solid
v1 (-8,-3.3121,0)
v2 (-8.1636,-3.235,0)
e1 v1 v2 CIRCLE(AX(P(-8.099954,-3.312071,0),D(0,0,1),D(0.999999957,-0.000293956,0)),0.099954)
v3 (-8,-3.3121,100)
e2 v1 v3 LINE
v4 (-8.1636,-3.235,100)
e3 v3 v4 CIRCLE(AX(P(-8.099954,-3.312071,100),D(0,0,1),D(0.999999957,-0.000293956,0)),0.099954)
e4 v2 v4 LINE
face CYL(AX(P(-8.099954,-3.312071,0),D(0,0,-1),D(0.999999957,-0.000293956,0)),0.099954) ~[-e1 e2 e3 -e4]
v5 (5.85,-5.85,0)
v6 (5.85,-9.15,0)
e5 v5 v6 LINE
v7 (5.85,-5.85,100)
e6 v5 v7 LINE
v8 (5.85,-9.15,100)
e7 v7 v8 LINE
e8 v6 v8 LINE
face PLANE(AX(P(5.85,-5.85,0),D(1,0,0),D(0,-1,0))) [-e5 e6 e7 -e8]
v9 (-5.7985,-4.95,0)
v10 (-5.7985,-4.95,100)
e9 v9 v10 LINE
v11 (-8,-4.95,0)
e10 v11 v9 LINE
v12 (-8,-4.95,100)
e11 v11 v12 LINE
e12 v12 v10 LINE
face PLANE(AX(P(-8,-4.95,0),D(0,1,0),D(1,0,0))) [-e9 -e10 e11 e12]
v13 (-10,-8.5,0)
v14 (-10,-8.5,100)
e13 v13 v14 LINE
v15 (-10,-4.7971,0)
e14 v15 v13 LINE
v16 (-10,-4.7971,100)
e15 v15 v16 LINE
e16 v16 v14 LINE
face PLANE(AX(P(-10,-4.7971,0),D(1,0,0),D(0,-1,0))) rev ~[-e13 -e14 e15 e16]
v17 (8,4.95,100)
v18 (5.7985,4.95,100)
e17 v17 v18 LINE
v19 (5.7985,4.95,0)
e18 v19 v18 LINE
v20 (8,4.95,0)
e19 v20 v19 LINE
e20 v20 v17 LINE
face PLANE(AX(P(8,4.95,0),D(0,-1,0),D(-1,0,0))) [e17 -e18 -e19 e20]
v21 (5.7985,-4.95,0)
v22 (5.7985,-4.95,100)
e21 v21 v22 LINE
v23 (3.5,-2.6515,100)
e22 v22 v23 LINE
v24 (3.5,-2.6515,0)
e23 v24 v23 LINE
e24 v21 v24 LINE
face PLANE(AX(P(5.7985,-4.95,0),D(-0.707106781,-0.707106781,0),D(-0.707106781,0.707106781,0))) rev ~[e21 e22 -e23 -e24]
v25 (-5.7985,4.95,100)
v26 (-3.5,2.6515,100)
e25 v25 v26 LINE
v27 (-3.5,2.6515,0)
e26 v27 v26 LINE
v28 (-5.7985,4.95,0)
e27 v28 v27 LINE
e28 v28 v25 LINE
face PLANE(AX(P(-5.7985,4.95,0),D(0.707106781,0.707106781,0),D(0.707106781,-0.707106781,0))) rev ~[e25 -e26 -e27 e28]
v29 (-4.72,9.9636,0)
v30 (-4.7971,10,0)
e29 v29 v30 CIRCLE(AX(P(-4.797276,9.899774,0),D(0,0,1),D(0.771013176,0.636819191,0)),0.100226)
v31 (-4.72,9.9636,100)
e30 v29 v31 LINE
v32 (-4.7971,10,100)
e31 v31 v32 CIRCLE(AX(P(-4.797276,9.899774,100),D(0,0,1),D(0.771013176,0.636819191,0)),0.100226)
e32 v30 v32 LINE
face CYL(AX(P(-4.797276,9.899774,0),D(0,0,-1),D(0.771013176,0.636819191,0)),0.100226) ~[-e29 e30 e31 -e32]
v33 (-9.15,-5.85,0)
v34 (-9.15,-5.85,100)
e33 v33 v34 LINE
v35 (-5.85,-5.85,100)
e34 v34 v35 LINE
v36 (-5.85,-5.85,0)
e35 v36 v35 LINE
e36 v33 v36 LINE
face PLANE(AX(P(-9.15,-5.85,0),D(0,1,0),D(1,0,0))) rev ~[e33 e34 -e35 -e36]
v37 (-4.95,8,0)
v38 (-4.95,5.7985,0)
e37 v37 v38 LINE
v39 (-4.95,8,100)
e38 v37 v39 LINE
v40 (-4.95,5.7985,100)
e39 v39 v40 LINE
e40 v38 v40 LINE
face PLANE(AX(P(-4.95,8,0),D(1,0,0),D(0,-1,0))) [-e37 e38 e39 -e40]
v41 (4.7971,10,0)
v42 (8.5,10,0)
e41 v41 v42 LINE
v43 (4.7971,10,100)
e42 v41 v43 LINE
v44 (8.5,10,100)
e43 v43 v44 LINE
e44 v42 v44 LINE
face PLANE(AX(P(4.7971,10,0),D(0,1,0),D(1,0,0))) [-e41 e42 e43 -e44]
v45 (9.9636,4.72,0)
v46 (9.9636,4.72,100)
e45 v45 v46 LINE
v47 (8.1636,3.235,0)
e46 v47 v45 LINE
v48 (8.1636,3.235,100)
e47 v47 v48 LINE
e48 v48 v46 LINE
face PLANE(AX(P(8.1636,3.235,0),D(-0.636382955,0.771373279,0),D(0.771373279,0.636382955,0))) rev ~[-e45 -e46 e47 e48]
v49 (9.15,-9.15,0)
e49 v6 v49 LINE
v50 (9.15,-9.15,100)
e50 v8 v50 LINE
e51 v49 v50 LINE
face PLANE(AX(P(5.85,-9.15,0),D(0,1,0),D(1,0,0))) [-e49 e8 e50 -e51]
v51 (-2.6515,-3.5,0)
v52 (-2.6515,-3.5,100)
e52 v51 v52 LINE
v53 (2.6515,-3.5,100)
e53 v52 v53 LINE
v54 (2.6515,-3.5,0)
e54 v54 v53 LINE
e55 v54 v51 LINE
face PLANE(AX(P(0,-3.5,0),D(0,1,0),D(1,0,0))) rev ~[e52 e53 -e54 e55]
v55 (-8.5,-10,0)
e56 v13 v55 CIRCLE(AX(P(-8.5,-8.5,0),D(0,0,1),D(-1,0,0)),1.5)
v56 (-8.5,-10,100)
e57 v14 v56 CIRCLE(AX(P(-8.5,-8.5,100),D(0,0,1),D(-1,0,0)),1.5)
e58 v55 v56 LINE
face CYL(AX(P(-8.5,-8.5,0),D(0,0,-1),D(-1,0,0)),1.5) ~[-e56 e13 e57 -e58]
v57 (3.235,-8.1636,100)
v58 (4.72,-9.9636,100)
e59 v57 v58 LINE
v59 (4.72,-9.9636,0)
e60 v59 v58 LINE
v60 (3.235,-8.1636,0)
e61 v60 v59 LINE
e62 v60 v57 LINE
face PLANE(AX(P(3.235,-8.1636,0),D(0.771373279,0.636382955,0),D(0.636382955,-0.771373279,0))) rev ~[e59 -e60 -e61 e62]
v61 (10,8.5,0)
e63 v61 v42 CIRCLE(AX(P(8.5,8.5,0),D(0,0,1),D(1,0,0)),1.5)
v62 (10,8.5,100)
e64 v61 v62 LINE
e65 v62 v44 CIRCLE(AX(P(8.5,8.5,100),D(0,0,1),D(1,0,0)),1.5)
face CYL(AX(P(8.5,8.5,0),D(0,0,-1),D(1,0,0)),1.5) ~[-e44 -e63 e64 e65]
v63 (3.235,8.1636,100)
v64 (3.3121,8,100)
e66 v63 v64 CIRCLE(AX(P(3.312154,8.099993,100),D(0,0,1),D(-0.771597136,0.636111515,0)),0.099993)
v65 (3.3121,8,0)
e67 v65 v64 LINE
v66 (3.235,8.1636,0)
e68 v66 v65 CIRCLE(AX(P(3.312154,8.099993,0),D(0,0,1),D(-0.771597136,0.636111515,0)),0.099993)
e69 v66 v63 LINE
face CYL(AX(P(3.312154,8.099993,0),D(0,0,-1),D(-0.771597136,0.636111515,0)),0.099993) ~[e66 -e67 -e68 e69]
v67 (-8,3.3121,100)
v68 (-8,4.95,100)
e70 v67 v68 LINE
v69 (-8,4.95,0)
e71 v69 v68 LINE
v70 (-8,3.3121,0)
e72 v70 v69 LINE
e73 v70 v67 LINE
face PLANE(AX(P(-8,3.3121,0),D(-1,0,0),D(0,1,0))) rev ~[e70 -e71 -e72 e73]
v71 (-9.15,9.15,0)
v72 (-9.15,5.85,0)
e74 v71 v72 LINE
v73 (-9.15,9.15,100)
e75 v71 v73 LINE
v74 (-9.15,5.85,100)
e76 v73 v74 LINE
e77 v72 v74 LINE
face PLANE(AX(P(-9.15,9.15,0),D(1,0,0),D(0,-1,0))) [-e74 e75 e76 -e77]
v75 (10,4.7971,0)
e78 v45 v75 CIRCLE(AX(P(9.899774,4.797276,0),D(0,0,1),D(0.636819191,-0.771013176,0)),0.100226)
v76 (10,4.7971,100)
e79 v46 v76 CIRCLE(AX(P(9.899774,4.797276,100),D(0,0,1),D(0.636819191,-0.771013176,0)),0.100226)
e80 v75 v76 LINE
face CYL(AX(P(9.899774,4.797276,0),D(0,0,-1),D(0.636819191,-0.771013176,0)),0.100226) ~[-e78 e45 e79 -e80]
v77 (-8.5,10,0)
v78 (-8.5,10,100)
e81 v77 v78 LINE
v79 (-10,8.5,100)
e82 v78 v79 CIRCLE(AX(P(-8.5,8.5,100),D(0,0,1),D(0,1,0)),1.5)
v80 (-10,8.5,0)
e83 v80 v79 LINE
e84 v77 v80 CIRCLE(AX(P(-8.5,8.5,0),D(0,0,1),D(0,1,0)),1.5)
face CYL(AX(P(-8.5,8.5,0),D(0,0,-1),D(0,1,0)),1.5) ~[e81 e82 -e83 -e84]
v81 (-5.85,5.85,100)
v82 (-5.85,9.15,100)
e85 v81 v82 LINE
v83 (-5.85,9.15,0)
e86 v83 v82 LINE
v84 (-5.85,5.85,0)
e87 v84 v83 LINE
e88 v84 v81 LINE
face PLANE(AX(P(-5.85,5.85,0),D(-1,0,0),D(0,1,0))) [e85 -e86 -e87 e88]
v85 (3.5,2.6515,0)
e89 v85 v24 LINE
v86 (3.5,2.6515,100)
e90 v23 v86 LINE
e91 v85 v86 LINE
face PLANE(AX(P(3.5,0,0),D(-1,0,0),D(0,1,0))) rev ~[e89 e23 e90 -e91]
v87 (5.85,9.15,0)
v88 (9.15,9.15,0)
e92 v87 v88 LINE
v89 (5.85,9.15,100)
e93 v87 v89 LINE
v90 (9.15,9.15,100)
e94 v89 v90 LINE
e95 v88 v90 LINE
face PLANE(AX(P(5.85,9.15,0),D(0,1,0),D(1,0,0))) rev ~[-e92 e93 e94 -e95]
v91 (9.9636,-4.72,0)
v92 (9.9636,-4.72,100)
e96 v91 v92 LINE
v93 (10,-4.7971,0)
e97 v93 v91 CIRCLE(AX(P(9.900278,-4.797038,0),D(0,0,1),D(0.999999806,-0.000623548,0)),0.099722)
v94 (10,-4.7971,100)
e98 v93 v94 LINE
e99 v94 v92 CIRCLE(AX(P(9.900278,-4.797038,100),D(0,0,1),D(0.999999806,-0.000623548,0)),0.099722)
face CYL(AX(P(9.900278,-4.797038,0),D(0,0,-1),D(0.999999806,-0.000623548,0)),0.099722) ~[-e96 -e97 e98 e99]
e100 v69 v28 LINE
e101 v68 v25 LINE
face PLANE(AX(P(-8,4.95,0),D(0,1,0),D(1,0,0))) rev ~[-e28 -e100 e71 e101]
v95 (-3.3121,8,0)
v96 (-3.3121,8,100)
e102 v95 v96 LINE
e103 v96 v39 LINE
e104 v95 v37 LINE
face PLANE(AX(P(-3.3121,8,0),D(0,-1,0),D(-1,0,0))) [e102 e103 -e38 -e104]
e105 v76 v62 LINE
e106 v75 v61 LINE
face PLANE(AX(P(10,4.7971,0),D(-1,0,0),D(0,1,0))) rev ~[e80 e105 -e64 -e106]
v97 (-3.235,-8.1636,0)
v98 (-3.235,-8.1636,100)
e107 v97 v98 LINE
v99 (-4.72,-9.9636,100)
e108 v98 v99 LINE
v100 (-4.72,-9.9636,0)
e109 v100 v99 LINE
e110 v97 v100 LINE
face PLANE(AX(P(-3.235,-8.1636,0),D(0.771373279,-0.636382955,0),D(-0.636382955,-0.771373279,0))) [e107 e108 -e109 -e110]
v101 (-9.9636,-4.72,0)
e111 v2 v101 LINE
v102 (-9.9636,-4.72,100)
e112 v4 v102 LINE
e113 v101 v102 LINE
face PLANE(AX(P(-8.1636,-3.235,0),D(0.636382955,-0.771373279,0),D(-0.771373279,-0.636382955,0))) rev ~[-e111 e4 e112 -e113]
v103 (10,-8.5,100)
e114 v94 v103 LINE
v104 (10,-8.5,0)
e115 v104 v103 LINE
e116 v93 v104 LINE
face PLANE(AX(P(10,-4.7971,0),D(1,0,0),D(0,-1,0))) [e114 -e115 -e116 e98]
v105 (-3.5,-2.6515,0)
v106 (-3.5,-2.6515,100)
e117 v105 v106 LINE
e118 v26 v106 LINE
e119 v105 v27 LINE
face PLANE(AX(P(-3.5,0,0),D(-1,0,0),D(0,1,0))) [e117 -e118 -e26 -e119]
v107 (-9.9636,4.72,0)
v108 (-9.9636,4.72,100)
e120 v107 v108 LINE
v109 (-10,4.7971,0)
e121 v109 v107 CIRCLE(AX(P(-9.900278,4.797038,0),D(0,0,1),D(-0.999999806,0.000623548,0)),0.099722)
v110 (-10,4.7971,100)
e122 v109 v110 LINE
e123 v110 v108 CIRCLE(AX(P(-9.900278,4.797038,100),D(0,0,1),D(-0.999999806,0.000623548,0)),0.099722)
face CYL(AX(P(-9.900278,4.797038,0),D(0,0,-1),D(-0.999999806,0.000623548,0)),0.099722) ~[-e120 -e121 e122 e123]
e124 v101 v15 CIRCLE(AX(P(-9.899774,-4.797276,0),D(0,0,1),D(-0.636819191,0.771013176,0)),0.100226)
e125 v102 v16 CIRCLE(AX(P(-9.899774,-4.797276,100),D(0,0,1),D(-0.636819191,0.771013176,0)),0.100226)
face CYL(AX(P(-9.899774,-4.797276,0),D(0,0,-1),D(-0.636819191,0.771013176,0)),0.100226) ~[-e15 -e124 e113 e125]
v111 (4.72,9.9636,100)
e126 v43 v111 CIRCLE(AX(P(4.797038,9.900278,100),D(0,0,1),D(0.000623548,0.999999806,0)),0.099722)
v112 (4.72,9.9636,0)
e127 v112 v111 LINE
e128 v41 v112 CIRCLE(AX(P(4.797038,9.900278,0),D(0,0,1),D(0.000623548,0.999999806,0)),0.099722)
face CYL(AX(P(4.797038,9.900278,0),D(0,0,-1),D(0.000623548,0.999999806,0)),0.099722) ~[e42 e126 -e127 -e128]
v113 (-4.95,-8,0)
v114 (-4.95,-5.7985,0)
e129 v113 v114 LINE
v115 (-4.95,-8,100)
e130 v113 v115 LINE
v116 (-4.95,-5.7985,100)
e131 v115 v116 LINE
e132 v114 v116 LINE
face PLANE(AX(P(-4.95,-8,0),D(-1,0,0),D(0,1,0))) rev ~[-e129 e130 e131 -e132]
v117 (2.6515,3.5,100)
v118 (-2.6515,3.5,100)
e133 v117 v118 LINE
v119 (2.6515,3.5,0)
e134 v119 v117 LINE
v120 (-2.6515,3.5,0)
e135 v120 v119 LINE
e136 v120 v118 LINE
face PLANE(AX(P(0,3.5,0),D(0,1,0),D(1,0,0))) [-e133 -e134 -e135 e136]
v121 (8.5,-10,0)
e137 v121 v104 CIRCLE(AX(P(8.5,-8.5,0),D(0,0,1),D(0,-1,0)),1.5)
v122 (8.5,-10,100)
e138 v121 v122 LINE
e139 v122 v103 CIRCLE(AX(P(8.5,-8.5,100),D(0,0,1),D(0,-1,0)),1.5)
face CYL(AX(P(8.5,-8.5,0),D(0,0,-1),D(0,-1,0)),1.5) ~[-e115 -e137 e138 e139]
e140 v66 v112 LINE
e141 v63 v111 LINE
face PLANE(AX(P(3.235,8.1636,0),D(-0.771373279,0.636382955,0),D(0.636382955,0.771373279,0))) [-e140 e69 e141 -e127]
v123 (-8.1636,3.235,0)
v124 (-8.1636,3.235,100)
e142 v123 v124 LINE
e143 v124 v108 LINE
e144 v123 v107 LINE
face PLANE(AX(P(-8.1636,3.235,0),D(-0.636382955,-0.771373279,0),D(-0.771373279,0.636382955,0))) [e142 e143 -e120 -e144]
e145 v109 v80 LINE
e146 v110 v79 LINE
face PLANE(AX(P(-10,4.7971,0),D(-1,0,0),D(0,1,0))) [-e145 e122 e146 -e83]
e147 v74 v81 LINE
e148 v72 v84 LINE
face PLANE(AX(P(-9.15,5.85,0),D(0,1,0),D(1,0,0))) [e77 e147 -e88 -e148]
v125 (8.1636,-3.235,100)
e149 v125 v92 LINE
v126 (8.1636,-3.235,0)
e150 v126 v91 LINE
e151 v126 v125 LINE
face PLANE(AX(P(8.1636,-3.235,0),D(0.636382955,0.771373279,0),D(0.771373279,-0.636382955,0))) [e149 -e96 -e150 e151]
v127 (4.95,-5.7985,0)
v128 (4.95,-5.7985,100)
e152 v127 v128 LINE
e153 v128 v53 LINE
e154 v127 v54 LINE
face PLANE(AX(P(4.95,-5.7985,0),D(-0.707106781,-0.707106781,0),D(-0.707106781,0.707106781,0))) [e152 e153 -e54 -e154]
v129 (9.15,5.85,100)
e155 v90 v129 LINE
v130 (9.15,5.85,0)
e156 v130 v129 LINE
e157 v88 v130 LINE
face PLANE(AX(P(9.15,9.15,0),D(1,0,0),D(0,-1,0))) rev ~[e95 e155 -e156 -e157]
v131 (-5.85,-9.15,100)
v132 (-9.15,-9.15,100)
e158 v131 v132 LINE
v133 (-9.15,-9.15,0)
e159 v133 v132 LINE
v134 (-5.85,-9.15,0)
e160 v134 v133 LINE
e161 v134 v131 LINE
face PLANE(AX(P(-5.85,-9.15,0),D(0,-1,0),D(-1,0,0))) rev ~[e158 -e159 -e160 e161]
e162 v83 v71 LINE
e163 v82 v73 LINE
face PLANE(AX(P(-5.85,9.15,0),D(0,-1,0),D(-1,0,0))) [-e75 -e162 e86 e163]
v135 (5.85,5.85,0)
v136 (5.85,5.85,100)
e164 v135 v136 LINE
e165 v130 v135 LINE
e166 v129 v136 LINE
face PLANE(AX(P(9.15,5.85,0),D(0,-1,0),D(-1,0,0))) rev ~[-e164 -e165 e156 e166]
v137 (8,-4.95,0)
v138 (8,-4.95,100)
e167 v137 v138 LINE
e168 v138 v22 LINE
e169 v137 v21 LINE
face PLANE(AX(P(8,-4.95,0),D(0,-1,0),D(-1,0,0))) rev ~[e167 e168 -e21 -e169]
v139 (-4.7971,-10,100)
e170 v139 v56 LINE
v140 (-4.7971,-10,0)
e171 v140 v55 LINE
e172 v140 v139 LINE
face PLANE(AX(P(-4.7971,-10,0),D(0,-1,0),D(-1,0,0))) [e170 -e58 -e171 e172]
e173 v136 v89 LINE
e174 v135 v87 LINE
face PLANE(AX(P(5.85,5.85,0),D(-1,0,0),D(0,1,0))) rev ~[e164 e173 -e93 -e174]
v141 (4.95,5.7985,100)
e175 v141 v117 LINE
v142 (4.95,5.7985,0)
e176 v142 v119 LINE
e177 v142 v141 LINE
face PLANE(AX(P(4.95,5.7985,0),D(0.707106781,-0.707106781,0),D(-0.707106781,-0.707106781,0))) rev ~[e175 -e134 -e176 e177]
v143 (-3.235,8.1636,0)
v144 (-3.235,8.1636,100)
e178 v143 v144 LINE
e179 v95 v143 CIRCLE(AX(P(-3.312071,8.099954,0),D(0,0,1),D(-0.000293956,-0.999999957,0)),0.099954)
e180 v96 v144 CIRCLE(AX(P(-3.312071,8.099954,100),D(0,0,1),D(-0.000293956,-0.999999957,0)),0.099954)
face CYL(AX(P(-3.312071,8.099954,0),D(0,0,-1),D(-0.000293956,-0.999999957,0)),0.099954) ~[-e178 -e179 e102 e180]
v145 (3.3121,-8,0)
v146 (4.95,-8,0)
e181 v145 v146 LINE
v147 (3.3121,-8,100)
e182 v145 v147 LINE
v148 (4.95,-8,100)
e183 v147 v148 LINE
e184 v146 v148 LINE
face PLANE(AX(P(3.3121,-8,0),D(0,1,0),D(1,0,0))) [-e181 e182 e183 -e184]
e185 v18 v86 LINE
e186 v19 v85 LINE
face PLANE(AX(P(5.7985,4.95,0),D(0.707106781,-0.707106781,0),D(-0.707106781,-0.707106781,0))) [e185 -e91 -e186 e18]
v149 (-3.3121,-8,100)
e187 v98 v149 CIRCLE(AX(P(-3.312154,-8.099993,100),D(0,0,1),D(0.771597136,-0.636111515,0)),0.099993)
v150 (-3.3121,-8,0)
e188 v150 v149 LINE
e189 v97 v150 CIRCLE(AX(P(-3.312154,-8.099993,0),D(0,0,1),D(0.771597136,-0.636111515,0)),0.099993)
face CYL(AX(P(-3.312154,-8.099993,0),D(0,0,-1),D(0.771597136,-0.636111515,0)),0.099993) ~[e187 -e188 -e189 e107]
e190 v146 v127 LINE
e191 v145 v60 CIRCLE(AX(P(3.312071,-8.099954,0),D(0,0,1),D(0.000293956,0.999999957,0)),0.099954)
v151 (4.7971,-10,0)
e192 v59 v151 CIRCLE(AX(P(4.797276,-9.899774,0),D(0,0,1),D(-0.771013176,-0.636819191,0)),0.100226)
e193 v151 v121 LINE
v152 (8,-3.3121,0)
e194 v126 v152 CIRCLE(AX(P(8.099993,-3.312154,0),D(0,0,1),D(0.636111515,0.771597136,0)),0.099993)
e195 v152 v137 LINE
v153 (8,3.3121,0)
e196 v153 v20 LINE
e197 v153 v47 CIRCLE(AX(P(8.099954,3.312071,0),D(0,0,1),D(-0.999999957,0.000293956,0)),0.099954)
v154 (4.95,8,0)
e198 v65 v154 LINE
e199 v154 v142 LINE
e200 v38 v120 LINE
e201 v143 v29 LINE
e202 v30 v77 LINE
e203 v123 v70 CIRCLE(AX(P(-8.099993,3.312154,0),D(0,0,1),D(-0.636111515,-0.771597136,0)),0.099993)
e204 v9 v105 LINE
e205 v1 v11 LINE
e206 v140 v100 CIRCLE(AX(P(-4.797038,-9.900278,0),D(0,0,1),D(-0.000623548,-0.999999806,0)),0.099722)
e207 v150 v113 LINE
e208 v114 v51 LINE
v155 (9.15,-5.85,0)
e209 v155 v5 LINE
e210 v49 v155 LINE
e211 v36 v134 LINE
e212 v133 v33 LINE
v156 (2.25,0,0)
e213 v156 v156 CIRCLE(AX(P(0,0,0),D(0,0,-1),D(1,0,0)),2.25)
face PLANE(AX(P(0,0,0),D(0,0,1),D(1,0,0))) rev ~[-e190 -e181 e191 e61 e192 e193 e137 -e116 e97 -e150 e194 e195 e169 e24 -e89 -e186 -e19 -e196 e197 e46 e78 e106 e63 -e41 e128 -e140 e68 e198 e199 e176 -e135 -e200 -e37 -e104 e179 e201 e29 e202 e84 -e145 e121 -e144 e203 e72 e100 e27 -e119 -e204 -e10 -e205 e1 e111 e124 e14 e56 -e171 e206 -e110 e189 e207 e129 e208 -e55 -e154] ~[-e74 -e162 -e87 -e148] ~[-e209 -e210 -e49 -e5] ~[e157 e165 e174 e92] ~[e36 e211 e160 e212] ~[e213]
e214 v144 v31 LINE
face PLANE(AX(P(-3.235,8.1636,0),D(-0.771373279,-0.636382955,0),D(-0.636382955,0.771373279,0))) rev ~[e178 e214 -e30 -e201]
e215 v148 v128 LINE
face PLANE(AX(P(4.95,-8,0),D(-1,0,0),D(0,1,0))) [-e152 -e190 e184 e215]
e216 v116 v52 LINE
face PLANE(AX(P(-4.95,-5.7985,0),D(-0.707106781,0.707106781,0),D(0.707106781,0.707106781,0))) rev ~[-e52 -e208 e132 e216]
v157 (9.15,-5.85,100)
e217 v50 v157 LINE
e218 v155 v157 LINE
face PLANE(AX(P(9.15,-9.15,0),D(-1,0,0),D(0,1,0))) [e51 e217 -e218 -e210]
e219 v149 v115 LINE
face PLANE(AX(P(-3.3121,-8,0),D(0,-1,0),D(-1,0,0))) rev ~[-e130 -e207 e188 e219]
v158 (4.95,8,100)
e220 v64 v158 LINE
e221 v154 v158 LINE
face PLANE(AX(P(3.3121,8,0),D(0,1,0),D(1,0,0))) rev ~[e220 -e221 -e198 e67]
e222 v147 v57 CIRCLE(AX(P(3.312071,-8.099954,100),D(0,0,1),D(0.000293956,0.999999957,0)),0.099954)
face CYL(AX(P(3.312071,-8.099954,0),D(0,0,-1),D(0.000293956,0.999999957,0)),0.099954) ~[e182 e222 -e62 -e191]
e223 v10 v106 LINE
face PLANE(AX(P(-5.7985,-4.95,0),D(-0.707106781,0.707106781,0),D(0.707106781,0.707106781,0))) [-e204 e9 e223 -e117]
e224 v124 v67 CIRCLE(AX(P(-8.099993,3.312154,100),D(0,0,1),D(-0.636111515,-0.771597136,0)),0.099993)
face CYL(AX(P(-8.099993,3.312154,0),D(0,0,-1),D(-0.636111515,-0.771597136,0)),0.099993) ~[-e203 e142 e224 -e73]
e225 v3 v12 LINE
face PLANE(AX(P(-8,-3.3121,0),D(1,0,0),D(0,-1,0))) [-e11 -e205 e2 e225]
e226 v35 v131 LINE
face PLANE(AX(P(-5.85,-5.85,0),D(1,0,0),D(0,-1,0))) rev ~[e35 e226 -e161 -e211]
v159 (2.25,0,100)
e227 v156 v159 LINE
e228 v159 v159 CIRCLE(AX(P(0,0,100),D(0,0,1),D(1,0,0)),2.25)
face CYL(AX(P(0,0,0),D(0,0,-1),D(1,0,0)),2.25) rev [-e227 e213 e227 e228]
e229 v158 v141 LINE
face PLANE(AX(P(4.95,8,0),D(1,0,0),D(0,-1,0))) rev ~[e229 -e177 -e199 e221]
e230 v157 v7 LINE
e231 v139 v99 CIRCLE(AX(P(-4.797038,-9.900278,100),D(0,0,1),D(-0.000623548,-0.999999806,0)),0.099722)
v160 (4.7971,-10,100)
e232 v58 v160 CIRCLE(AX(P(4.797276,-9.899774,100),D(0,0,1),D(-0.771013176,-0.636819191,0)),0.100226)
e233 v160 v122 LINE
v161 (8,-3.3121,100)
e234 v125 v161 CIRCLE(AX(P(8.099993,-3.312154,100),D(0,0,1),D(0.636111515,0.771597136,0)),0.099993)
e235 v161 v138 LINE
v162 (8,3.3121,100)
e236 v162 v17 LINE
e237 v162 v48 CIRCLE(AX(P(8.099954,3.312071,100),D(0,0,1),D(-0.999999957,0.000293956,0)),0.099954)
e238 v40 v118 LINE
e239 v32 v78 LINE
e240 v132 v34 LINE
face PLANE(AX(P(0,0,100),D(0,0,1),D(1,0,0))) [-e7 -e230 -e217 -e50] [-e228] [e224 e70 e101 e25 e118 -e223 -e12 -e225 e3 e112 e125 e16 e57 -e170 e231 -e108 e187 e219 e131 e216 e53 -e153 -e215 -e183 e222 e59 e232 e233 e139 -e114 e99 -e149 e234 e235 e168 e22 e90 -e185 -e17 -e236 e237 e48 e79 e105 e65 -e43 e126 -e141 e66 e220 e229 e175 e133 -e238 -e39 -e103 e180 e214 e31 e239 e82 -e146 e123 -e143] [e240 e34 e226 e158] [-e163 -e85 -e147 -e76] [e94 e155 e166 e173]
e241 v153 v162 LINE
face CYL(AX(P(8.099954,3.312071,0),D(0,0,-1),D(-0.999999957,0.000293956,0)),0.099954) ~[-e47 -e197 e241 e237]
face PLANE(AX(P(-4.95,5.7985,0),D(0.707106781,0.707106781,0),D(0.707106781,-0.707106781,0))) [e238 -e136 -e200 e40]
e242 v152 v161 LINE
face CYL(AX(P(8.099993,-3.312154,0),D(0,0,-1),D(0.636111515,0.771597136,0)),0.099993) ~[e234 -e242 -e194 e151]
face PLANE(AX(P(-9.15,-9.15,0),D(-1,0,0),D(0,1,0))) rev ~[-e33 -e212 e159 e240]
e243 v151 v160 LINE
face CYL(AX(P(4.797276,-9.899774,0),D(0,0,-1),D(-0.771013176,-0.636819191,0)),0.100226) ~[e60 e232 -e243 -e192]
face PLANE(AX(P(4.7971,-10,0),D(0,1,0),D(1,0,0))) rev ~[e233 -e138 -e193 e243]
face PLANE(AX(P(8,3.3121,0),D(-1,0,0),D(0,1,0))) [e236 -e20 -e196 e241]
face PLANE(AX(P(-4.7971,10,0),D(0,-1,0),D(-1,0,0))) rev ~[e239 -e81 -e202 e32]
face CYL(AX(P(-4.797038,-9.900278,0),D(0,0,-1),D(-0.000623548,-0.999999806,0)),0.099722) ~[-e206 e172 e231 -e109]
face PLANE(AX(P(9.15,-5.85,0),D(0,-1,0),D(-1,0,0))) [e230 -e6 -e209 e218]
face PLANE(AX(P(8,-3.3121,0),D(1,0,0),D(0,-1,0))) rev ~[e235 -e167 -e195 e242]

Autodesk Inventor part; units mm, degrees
ref_plane "YZ Plane" through (0, 0, 0) normal (1, 0, 0) x (0, 1, 0)
ref_plane "Начальная плоскость" through (0, 0, 0) normal (0, 0, 1) x (1, 0, 0)
ref_plane "Конечная плоскость" through (0, 0, 100) normal (0, 0, 1) x (1, 0, 0)
sketch "Эскиз1" plane through (0, 0, 0) normal (0, 0, 1) x (1, 0, 0)
  line L0 (-14.4349, 0) -> (14.4349, 0) projected
  line L1 (0, -14) -> (0, 14) projected
  line L2 (0, 0) -> (7.5, 7.5) construction
  circle A0 centre (7.5, 7.5) radius 1.65 construction
  line L3 (5.85, 9.15) -> (9.15, 9.15)
  line L4 (9.15, 9.15) -> (9.15, 5.85)
  line L5 (9.15, 5.85) -> (5.85, 5.85)
  line L6 (5.85, 5.85) -> (5.85, 9.15)
  line L7 (3.235, 8.1636) -> (4.72, 9.9636)
  line L8 (4.7971, 10) -> (8.5, 10)
  line L9 (3.3121, 8) -> (4.95, 8)
  line L10 (4.95, 8) -> (4.95, 5.7985)
  line L11 (4.95, 5.7985) -> (2.6515, 3.5)
  line L12 (0, 3.5) -> (2.6515, 3.5)
  circle A1 centre (0, 0) radius 2.25
  line L13 (8.1636, 3.235) -> (9.9636, 4.72)
  line L14 (10, 4.7971) -> (10, 8.5)
  line L15 (8, 3.3121) -> (8, 4.95)
  line L16 (8, 4.95) -> (5.7985, 4.95)
  line L17 (5.7985, 4.95) -> (3.5, 2.6515)
  line L18 (3.5, 0) -> (3.5, 2.6515)
  arc A2 (10, 8.5) -> (8.5, 10) centre (8.5, 8.5) ccw
  line L19 (0, 0) -> (-7.5, 7.5) construction
  circle A3 centre (-7.5, 7.5) radius 1.65 construction
  line L20 (-5.85, 9.15) -> (-9.15, 9.15)
  line L21 (-9.15, 9.15) -> (-9.15, 5.85)
  line L22 (-9.15, 5.85) -> (-5.85, 5.85)
  line L23 (-5.85, 5.85) -> (-5.85, 9.15)
  line L24 (-3.235, 8.1636) -> (-4.72, 9.9636)
  line L25 (-4.7971, 10) -> (-8.5, 10)
  line L26 (-3.3121, 8) -> (-4.95, 8)
  line L27 (-4.95, 8) -> (-4.95, 5.7985)
  line L28 (-4.95, 5.7985) -> (-2.6515, 3.5)
  line L29 (0, 3.5) -> (-2.6515, 3.5)
  line L30 (-3.5, 0) -> (-3.5, 2.6515)
  line L31 (-5.7985, 4.95) -> (-3.5, 2.6515)
  line L32 (-8, 4.95) -> (-5.7985, 4.95)
  line L33 (-8, 3.3121) -> (-8, 4.95)
  line L34 (-8.1636, 3.235) -> (-9.9636, 4.72)
  line L35 (-10, 4.7971) -> (-10, 8.5)
  arc A4 (-8.5, 10) -> (-10, 8.5) centre (-8.5, 8.5) ccw
  line L36 (0, 14) -> (0, -14)
  line L37 (0, 0) -> (7.5, -7.5) construction
  circle A5 centre (7.5, -7.5) radius 1.65 construction
  line L38 (5.85, -9.15) -> (9.15, -9.15)
  line L39 (9.15, -9.15) -> (9.15, -5.85)
  line L40 (9.15, -5.85) -> (5.85, -5.85)
  line L41 (5.85, -5.85) -> (5.85, -9.15)
  line L42 (3.235, -8.1636) -> (4.72, -9.9636)
  line L43 (4.7971, -10) -> (8.5, -10)
  line L44 (3.3121, -8) -> (4.95, -8)
  line L45 (4.95, -8) -> (4.95, -5.7985)
  line L46 (4.95, -5.7985) -> (2.6515, -3.5)
  line L47 (0, -3.5) -> (2.6515, -3.5)
  line L48 (3.5, 0) -> (3.5, -2.6515)
  line L49 (5.7985, -4.95) -> (3.5, -2.6515)
  line L50 (8, -4.95) -> (5.7985, -4.95)
  line L51 (8, -3.3121) -> (8, -4.95)
  line L52 (8.1636, -3.235) -> (9.9636, -4.72)
  line L53 (10, -4.7971) -> (10, -8.5)
  arc A6 (8.5, -10) -> (10, -8.5) centre (8.5, -8.5) ccw
  line L54 (0, 0) -> (-7.5, -7.5) construction
  line L55 (-4.95, -8) -> (-4.95, -5.7985)
  line L56 (-3.3121, -8) -> (-4.95, -8)
  line L57 (-5.7985, -4.95) -> (-3.5, -2.6515)
  line L58 (-4.95, -5.7985) -> (-2.6515, -3.5)
  line L59 (-3.5, 0) -> (-3.5, -2.6515)
  line L60 (0, -3.5) -> (-2.6515, -3.5)
  circle A7 centre (-7.5, -7.5) radius 1.65 construction
  line L61 (-5.85, -5.85) -> (-5.85, -9.15)
  line L62 (-5.85, -9.15) -> (-9.15, -9.15)
  line L63 (-9.15, -9.15) -> (-9.15, -5.85)
  line L64 (-9.15, -5.85) -> (-5.85, -5.85)
  line L65 (-3.235, -8.1636) -> (-4.72, -9.9636)
  line L66 (-8, -4.95) -> (-5.7985, -4.95)
  line L67 (-8, -3.3121) -> (-8, -4.95)
  line L68 (-8.1636, -3.235) -> (-9.9636, -4.72)
  line L69 (-4.7971, -10) -> (-8.5, -10)
  line L70 (-10, -4.7971) -> (-10, -8.5)
  arc A8 (-10, -8.5) -> (-8.5, -10) centre (-8.5, -8.5) ccw
  arc A9 (3.235, 8.1636) -> (3.3121, 8) centre (3.3121, 8.1) ccw
  arc A10 (4.7971, 10) -> (4.72, 9.9636) centre (4.7971, 9.9) ccw
  arc A11 (8, 3.3121) -> (8.1636, 3.235) centre (8.1, 3.3121) ccw
  arc A12 (9.9636, 4.72) -> (10, 4.7971) centre (9.9, 4.7971) ccw
  arc A13 (-3.3121, 8) -> (-3.235, 8.1636) centre (-3.3121, 8.1) ccw
  arc A14 (-4.72, 9.9636) -> (-4.7971, 10) centre (-4.7971, 9.9) ccw
  arc A15 (-8.1636, 3.235) -> (-8, 3.3121) centre (-8.1, 3.3121) ccw
  arc A16 (-10, 4.7971) -> (-9.9636, 4.72) centre (-9.9, 4.7971) ccw
  arc A17 (-8, -3.3121) -> (-8.1636, -3.235) centre (-8.1, -3.3121) ccw
  arc A18 (-9.9636, -4.72) -> (-10, -4.7971) centre (-9.9, -4.7971) ccw
  arc A19 (-3.235, -8.1636) -> (-3.3121, -8) centre (-3.3121, -8.1) ccw
  arc A20 (-4.7971, -10) -> (-4.72, -9.9636) centre (-4.7971, -9.9) ccw
  arc A21 (4.72, -9.9636) -> (4.7971, -10) centre (4.7971, -9.9) ccw
  arc A22 (3.3121, -8) -> (3.235, -8.1636) centre (3.3121, -8.1) ccw
  arc A23 (8.1636, -3.235) -> (8, -3.3121) centre (8.1, -3.3121) ccw
  arc A24 (10, -4.7971) -> (9.9636, -4.72) centre (9.9, -4.7971) ccw
  point P0 (3.1, 8)
  point P1 (4.75, 10)
  point P2 (7.5, 9.15)
  point P3 (8, 3.1)
  point P4 (10, 4.75)
  point P5 (7.5, 5.85)
  point P6 (9.15, 7.5)
  point P7 (-3.1, 8)
  point P8 (-4.75, 10)
  point P9 (-7.5, 9.15)
  point P10 (-8, 3.1)
  point P11 (-10, 4.75)
  point P12 (-7.5, 5.85)
  point P13 (-9.15, 7.5)
  point P14 (3.1, -8)
  point P15 (4.75, -10)
  point P16 (7.5, -9.15)
  point P17 (8, -3.1)
  point P18 (10, -4.75)
  point P19 (7.5, -5.85)
  point P20 (9.15, -7.5)
  point P21 (-3.1, -8)
  point P22 (-7.5, -5.85)
  point P23 (-7.5, -9.15)
  point P24 (-9.15, -7.5)
  point P25 (-4.75, -10)
  point P26 (-8, -3.1)
  point P27 (-10, -4.75)
  dimension "d0" = 45
  dimension "d1" = 3.3
  dimension "d2" = 1.5
  dimension "d3" = 1.2
  dimension "d4" = 4.5
  dimension "d5" = 6.5
  dimension "d6" = 15
  dimension "d7" = 20
  dimension "d8" = 9.9
  dimension "d9" = 9.5
  dimension "d10" = 6.2
  dimension "d11" = 2
  dimension "d18" = 0.1
  dimension "d19" = 0.1
extrude "Тело" add sketch "Эскиз1" along normal up to surface (100 mm away) from surface at 0 contours A1 L1 L12 L11 L10 L9 A9 L7 A10 L8 A2 L14 A12 L13 A11 L15 L16 L17 L18 L0 | L0 L48 L49 L50 L51 A23 L52 A24 L53 A6 L43 A21 L42 A22 L44 L45 L46 L47 L1 A1 | A1 L0 L30 L31 L32 L33 A15 L34 A16 L35 A4 L25 A14 L24 A13 L26 L27 L28 L29 L1 | L1 L60 L58 L55 L56 A19 L65 A20 L69 A8 L70 A18 L68 A17 L67 L66 L57 L59 L0 A1
sketch "Эскиз2" plane through (0, 0, 0) normal (0, 0, 1) x (1, 0, 0)
  line L0 (0, 0) -> (10, 0)
ref_plane "РабПлоскость3" through (0, 0, 0) normal (0, -1, 0) x (1, 0, 0)
sketch "Эскиз3" plane through (0, 0, 0) normal (0, -1, 0) x (1, 0, 0)
  line L0 (-2, 0) -> (12, 0)
  line L1 (-2, 100) -> (12, 100)
  dimension "d25" = 100
equation "\"G_OFFSET_START\" = 0"
equation "\"G_OFFSET_END\" = 0"
properties part number "короткая палка"
